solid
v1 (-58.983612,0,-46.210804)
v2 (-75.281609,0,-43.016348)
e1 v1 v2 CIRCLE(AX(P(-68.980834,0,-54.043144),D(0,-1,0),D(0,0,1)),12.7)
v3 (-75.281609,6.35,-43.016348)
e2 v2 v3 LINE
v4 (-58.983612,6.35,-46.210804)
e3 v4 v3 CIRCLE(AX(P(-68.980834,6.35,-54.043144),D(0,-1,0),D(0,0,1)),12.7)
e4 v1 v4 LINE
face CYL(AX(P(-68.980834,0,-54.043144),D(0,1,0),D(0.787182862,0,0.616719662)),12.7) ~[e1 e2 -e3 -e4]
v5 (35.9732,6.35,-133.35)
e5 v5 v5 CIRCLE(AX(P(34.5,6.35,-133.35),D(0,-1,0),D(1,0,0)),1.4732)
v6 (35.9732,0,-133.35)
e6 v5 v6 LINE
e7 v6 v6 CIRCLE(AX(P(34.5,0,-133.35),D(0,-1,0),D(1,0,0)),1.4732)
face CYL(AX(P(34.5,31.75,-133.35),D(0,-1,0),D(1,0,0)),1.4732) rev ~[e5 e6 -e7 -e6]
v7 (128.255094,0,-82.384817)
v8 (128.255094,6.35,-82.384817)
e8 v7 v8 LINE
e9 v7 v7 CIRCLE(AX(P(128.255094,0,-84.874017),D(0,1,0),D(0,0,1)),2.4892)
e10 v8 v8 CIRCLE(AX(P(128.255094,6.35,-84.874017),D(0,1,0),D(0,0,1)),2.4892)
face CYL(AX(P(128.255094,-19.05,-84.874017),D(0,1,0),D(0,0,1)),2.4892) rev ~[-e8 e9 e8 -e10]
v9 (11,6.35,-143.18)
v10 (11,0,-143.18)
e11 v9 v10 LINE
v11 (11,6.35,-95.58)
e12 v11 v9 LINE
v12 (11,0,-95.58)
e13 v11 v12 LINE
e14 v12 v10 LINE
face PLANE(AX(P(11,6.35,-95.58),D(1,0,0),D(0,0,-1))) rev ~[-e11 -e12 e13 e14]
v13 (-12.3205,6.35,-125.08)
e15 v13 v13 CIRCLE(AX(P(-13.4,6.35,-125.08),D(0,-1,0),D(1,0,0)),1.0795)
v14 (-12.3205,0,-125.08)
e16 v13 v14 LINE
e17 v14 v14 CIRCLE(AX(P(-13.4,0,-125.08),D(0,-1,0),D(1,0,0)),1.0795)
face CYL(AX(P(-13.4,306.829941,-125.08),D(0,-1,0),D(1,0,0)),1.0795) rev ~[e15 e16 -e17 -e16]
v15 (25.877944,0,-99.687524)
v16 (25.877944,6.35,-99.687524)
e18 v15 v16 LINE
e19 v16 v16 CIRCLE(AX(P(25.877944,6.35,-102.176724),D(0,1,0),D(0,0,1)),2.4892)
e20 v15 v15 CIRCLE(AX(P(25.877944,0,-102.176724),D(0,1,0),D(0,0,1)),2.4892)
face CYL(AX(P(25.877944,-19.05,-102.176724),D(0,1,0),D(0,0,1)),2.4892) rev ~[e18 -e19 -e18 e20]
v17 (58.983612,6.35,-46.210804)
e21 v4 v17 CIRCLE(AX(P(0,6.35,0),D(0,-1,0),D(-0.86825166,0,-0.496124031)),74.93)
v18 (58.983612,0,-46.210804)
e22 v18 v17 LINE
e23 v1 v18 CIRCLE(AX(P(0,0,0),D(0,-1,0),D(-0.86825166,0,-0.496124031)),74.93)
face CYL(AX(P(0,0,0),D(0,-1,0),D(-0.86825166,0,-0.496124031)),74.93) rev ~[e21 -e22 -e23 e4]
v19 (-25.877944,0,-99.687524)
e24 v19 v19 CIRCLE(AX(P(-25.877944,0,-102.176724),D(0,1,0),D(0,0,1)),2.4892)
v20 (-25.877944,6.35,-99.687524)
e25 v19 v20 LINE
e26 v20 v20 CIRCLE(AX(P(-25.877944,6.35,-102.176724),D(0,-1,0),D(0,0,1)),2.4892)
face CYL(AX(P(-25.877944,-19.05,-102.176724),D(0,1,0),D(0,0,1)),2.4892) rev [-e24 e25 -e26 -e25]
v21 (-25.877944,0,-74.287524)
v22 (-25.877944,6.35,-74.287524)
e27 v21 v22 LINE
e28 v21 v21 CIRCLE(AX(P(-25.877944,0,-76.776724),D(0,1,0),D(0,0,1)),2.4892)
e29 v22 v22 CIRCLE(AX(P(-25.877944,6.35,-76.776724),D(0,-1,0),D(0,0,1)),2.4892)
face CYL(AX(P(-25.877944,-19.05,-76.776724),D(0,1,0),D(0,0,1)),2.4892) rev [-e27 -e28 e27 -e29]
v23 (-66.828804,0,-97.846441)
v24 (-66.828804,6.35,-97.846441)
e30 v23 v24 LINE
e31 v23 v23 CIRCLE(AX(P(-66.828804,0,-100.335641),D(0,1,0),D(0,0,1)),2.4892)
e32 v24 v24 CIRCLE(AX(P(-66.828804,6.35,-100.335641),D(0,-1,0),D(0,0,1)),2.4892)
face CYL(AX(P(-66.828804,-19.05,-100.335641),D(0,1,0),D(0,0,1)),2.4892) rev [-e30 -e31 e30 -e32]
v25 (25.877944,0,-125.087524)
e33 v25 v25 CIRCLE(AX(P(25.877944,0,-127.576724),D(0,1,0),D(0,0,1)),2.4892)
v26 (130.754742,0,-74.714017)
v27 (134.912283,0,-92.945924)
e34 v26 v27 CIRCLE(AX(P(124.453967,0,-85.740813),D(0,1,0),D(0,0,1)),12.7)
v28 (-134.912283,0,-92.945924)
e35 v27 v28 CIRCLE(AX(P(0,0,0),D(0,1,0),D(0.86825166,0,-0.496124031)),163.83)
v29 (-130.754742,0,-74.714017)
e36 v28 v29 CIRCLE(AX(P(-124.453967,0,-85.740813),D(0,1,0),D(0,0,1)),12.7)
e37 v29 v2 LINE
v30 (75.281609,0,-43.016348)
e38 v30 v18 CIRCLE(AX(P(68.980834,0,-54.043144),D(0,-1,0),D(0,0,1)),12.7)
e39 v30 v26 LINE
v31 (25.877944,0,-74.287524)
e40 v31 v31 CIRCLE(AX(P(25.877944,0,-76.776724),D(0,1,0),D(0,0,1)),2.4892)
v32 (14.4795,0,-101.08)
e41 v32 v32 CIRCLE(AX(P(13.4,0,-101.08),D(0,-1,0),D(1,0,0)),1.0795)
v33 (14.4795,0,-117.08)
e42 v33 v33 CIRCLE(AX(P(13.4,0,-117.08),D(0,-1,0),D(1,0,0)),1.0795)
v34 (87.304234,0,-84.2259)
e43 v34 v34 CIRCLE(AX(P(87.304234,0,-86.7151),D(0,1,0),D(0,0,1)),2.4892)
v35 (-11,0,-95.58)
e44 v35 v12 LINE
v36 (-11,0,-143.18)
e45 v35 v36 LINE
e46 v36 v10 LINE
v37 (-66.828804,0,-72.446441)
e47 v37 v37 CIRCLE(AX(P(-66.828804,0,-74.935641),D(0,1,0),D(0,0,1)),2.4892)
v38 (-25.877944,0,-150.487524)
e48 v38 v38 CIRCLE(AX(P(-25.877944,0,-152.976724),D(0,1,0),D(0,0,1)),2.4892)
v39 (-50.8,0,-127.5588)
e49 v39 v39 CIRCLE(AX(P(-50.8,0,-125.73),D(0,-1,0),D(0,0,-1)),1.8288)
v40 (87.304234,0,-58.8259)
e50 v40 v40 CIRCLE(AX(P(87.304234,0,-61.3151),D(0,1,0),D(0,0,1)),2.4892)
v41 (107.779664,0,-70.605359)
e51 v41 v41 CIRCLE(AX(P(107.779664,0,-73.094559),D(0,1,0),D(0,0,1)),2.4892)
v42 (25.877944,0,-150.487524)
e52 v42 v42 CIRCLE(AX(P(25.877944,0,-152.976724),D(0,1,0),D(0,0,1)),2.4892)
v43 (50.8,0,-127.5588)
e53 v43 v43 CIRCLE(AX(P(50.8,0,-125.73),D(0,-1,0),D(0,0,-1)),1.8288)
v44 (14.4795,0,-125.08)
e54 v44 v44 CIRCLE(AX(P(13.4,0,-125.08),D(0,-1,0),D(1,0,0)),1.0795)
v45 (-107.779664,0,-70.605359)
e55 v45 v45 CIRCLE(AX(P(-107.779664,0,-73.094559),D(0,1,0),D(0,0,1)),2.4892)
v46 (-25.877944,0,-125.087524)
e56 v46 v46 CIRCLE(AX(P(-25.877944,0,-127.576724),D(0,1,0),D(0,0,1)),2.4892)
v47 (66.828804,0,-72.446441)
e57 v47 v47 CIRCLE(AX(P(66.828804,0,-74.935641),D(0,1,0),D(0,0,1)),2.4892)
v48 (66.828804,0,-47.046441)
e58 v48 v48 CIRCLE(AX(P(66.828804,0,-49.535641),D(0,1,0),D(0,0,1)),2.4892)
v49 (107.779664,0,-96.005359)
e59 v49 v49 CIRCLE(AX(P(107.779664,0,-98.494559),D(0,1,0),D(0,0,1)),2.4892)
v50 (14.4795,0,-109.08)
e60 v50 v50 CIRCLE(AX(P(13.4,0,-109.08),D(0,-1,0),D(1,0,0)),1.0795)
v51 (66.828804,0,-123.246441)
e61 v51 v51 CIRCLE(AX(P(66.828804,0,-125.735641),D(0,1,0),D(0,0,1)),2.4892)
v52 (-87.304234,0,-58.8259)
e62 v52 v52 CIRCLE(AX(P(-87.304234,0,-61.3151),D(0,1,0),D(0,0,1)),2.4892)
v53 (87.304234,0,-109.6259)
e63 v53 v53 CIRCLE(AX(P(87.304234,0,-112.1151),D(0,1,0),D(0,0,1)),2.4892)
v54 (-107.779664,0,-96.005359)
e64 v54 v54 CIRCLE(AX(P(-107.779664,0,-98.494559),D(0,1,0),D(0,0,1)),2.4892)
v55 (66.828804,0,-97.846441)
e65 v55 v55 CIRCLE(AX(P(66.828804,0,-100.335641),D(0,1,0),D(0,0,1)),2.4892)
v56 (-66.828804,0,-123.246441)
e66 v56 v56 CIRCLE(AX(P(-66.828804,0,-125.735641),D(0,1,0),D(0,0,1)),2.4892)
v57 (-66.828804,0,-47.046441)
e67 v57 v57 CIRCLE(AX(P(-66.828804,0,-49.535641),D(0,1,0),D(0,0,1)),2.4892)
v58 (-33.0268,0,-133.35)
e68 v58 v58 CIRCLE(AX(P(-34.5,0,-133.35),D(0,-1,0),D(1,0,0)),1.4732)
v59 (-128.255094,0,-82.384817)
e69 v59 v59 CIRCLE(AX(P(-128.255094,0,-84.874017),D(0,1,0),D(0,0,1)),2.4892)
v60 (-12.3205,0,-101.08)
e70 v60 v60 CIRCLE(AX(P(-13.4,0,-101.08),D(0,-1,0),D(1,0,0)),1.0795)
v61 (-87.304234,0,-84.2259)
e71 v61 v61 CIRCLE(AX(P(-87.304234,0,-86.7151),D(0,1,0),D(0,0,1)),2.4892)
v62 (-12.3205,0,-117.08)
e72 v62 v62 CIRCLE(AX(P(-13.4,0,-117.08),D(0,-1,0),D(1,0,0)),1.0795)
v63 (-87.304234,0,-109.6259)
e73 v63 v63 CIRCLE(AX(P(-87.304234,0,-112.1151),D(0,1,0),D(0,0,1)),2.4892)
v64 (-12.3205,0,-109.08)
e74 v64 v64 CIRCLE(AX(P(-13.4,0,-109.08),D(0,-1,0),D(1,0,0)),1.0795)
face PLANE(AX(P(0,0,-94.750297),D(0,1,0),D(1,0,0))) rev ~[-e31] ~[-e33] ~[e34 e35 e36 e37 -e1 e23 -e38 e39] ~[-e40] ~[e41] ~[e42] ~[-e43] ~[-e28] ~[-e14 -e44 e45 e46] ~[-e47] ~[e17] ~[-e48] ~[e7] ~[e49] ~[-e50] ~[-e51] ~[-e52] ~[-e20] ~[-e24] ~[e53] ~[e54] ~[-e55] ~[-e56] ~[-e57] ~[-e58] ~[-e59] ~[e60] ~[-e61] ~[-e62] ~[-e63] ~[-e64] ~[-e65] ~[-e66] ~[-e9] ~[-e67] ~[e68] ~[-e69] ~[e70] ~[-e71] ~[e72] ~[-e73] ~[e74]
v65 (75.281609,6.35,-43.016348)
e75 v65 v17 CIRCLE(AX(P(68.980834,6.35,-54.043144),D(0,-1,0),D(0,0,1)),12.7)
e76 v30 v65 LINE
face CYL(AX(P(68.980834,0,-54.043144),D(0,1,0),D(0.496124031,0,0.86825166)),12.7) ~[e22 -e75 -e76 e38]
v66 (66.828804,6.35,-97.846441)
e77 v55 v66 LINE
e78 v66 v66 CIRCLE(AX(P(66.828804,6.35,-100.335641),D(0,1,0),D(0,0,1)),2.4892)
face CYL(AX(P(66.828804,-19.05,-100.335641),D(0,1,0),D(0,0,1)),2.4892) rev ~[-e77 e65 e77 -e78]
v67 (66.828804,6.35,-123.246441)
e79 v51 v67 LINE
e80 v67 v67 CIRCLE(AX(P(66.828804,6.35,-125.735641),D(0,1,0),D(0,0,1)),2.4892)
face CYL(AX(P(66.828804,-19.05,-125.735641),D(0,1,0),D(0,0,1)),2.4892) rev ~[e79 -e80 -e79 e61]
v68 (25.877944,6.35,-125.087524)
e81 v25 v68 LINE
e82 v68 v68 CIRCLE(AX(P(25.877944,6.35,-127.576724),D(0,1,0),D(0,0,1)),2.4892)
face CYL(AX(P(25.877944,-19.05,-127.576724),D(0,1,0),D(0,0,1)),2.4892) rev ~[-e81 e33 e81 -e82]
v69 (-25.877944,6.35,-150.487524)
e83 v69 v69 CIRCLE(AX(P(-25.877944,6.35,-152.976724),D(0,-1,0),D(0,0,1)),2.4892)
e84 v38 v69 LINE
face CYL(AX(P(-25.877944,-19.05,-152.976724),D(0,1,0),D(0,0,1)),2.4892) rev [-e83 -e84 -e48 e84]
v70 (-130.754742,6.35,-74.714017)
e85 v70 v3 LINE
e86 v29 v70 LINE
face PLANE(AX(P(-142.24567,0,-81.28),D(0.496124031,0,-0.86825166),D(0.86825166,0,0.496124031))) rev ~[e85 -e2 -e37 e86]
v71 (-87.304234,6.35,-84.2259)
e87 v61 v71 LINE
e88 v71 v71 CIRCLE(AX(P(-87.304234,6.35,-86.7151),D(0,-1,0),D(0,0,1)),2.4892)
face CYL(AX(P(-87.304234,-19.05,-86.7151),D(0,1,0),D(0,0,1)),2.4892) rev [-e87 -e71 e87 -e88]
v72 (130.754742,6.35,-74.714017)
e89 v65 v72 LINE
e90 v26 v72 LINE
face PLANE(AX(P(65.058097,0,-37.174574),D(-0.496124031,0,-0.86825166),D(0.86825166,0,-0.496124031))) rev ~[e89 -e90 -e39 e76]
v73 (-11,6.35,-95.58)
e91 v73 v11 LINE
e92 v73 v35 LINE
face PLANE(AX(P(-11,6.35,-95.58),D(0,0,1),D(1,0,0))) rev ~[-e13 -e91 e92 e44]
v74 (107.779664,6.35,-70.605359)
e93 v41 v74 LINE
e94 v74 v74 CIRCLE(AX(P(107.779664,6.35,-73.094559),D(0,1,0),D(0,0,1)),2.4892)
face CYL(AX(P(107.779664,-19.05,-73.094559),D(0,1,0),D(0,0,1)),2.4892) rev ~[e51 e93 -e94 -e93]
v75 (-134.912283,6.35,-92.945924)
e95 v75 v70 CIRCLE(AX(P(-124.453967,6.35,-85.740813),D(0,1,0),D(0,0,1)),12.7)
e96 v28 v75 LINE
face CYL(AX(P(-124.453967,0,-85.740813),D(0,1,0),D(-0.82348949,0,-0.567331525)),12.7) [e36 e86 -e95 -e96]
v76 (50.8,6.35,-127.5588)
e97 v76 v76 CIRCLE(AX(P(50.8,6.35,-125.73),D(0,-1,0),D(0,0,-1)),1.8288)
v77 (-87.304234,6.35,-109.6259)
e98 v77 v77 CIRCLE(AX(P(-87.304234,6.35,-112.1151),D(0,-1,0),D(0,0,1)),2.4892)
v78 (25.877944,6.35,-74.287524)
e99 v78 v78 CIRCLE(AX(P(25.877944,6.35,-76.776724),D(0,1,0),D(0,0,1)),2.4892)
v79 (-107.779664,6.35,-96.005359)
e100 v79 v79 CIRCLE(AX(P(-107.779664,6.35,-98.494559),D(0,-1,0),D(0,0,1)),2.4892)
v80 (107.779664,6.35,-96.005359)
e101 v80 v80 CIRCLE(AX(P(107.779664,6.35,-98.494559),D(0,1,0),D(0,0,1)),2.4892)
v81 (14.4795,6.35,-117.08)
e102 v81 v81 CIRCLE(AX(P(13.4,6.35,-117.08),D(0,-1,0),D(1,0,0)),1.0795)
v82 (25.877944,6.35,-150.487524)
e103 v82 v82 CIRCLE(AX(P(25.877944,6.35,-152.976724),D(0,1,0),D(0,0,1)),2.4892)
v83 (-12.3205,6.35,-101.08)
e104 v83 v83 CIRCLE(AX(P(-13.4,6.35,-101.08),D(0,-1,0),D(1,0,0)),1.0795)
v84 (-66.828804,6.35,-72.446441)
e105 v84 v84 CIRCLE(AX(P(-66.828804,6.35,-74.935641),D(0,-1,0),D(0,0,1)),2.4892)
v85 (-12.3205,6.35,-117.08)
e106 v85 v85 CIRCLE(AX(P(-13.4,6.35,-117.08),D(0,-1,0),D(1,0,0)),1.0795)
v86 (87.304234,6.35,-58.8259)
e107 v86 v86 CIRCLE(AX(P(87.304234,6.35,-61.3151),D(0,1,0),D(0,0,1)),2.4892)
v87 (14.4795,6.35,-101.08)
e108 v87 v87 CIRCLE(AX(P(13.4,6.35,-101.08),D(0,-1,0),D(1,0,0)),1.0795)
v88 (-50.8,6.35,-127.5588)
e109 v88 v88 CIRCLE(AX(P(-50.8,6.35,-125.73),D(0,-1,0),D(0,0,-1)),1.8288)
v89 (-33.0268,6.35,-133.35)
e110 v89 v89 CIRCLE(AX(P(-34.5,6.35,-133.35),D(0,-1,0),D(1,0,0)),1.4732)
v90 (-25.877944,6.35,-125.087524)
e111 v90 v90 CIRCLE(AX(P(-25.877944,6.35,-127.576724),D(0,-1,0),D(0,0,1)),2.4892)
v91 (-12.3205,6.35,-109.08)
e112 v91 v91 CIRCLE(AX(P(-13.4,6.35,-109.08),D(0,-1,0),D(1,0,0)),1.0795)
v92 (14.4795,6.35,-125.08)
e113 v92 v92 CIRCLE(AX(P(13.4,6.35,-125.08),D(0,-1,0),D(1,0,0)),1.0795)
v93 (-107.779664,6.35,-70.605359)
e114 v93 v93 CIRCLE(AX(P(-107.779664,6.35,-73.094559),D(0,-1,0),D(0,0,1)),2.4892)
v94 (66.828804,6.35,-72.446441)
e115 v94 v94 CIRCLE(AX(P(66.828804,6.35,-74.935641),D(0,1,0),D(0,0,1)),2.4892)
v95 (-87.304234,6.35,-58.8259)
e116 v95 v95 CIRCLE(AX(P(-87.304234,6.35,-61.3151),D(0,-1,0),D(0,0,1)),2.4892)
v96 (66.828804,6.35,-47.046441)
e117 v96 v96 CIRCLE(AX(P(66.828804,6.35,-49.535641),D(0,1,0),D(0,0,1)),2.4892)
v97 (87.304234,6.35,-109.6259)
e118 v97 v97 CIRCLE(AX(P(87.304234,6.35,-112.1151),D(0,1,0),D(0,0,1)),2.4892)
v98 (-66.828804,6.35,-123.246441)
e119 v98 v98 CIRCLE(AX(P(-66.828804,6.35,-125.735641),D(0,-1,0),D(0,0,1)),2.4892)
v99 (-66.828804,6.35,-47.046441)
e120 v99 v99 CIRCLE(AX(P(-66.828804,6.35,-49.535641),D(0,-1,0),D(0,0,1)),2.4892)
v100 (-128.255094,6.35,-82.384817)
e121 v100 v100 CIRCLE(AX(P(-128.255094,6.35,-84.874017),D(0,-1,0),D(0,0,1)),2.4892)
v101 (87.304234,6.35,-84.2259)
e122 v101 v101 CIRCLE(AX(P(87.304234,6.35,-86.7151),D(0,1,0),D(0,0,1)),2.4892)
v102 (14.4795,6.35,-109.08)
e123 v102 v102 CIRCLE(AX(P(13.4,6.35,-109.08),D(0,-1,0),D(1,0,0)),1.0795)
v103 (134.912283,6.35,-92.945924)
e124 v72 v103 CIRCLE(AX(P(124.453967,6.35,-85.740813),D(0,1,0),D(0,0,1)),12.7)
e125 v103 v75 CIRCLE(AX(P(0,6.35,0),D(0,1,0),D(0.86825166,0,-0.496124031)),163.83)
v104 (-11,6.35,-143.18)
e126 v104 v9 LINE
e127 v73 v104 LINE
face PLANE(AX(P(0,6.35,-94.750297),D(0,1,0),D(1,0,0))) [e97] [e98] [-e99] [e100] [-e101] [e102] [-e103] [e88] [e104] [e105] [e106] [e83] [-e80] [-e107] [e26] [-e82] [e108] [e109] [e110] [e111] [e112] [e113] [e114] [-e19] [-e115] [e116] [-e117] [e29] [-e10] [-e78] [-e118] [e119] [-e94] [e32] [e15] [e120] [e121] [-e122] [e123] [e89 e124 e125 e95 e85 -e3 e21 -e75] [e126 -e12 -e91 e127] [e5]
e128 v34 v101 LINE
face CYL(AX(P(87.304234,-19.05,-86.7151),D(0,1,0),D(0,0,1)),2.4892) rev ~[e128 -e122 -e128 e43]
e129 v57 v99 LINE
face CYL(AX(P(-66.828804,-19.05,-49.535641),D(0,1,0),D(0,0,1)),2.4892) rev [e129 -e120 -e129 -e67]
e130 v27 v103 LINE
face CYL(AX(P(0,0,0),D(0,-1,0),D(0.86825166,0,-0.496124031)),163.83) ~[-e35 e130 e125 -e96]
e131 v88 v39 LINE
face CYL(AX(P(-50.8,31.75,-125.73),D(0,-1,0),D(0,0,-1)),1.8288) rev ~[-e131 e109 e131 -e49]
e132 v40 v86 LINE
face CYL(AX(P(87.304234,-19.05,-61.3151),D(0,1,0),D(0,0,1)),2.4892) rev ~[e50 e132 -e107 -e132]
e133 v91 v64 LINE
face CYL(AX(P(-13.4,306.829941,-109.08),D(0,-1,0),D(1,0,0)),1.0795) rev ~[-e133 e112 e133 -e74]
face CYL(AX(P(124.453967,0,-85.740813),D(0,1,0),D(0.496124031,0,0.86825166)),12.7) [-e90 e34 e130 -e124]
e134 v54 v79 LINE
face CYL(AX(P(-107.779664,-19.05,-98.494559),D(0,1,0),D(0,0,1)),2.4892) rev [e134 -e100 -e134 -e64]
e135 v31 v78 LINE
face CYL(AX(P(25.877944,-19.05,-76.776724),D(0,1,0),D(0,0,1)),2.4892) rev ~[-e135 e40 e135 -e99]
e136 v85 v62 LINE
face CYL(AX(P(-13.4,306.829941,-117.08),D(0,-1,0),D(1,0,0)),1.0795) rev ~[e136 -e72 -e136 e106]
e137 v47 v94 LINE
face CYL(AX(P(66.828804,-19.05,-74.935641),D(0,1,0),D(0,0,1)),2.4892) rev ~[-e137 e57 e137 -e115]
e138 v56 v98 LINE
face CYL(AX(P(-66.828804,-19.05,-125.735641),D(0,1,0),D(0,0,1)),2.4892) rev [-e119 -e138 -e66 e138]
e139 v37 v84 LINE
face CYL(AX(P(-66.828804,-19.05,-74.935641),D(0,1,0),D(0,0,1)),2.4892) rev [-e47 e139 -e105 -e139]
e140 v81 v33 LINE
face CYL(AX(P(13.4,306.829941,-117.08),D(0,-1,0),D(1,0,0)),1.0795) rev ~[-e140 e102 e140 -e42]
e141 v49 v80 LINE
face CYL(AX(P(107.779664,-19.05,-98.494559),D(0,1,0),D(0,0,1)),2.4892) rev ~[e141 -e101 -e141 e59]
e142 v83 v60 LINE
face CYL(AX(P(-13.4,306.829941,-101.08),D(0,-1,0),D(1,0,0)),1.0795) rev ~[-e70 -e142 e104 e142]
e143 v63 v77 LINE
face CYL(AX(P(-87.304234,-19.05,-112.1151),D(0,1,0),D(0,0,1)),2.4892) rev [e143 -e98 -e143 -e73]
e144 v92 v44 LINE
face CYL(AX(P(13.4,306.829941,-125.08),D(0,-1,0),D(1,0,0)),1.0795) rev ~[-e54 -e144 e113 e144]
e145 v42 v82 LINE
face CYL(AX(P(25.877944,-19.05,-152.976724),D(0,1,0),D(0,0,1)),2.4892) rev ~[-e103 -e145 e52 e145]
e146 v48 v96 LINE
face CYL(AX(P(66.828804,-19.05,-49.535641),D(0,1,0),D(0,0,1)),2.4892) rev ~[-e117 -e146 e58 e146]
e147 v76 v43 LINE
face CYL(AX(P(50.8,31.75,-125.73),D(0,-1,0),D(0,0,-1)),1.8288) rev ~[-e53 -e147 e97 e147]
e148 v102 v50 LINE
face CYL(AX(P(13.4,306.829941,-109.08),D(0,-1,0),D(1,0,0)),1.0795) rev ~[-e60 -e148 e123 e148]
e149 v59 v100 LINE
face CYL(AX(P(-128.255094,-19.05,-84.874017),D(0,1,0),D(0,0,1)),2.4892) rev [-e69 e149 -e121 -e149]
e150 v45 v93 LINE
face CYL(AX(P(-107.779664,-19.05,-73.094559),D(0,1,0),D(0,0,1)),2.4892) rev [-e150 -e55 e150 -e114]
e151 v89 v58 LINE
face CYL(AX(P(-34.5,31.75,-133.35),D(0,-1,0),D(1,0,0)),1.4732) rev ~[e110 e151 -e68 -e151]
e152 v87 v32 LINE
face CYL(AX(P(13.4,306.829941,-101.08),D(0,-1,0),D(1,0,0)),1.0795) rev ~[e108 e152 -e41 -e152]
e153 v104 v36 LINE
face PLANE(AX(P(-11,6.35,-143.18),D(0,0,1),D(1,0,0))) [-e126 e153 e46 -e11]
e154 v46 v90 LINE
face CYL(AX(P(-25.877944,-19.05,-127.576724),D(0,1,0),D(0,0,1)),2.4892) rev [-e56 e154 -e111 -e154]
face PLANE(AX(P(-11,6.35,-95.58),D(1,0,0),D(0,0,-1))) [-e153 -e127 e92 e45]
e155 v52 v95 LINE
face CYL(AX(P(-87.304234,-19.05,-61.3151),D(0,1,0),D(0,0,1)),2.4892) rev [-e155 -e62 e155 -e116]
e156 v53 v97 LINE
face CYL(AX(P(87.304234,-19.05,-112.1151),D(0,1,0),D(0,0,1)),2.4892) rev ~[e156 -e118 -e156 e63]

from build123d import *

# Parameters (mm, degrees)
BOSS_EXTRUDE1_DEPTH       = 6.35
F_6_CLEARANCE_HOLE1_D     = 3.6576
F_6_CLEARANCE_HOLE1_DEPTH = 25.4
F_6_CLEARANCE_HOLE1_TIP   = 1.0988539
FILLET1_R                 = 12.7
F_4_CLEARANCE_HOLE1_D     = 2.9464
F_4_CLEARANCE_HOLE1_DEPTH = 25.4
F_4_CLEARANCE_HOLE1_TIP   = 0.885187864
LPATTERN4_COUNT           = 6
LPATTERN4_PITCH           = 25.4
LPATTERN4_COUNT_DIR2      = 7
LPATTERN4_PITCH_DIR2      = 23.622
SKETCH8_W                 = 22
SKETCH8_H                 = 47.6
CUT_EXTRUDE1_DEPTH        = 214.756408018
F_4_CLEARANCE_HOLE3_D     = 2.159


with BuildPart() as part:
    # Sketch1 → Boss-Extrude1 (new body)
    with BuildSketch(Plane(origin=(0, 0, 0), x_dir=(1, 0, 0), z_dir=(0, 1, 0))):
        with BuildLine():
            Line((65.058096917, 37.174573643), (142.24566953, 81.28))
            ThreePointArc((142.24566953, 81.28), (0, 163.83), (-142.24566953, 81.28))
            Line((-142.24566953, 81.28), (-65.058096917, 37.174573643))
            ThreePointArc((-65.058096917, 37.174573643), (0, 74.93), (65.058096917, 37.174573643))
        make_face()
    extrude(amount=BOSS_EXTRUDE1_DEPTH)

    # #6 Clearance Hole1
    with Locations(Plane(origin=(-50.8, 6.35, -125.73), x_dir=(0, 0, 1), z_dir=(0, 1, 0))):
        with Locations((0, 0), (0, 101.6)):
            Hole(F_6_CLEARANCE_HOLE1_D / 2, depth=F_6_CLEARANCE_HOLE1_DEPTH)
            with Locations((0, 0, -(F_6_CLEARANCE_HOLE1_DEPTH + F_6_CLEARANCE_HOLE1_TIP / 2))):  # 118° drill point
                Cone(0, F_6_CLEARANCE_HOLE1_D / 2, F_6_CLEARANCE_HOLE1_TIP, mode=Mode.SUBTRACT)

    # Fillet1
    fillet1_edges = [part.edges().sort_by_distance(p)[0] for p in [
        (65.058096917, 3.175, -37.174573643),
        (-142.24566953, 3.175, -81.28),
        (-65.058096917, 3.175, -37.174573643),
        (142.24566953, 3.175, -81.28),
    ]]
    fillet(fillet1_edges, radius=FILLET1_R)

    # #4 Clearance Hole1
    with Locations(Plane(origin=(0, 6.35, 0), x_dir=(-1, 0, 0), z_dir=(0, 1, 0))):
        with Locations((-34.5, -133.35), (34.5, -133.35)):
            Hole(F_4_CLEARANCE_HOLE1_D / 2, depth=F_4_CLEARANCE_HOLE1_DEPTH)
            with Locations((0, 0, -(F_4_CLEARANCE_HOLE1_DEPTH + F_4_CLEARANCE_HOLE1_TIP / 2))):  # 118° drill point
                Cone(0, F_4_CLEARANCE_HOLE1_D / 2, F_4_CLEARANCE_HOLE1_TIP, mode=Mode.SUBTRACT)

    # Sketch5 → #10 Clearance Hole1 (revolve, cut)
    with BuildSketch(Plane(origin=(-128.255094273, 6.35, -84.874017323), x_dir=(0, 0, 1), z_dir=(1, 0, 0))):
        Polygon((0, 0), (0, 26.895662253), (2.4892, 25.4), (2.4892, 0), align=None)
    f_10_clearance_hole1 = revolve(axis=Axis((-128.255094273, 12.7, -84.874017323), (0, -1, 0)), mode=Mode.SUBTRACT)

    # LPattern4: 10 Clearance Hole1 6 × 7, 28 skipped
    with Locations(*[Vector(0, 0, -1) * (i * LPATTERN4_PITCH) + Vector(0.8667949394357127, 0, 0.49866475007628047) * (j * LPATTERN4_PITCH_DIR2) for i in range(LPATTERN4_COUNT) for j in range(LPATTERN4_COUNT_DIR2) if (i, j) not in ((0, 0), (0, 4), (0, 5), (0, 6), (1, 0), (1, 4), (1, 5), (1, 6), (2, 0), (2, 1), (2, 4), (2, 6), (3, 0), (3, 1), (3, 2), (3, 4), (3, 6), (4, 0), (4, 1), (4, 2), (4, 3), (4, 4), (4, 6), (5, 0), (5, 1), (5, 2), (5, 3), (5, 4), (5, 6))]):
        add(f_10_clearance_hole1, mode=Mode.SUBTRACT)

    # Mirror4 copy 1 sketch → Mirror4 copy 1 (revolve, cut)
    with BuildSketch(Plane(origin=(107.779664214, 6.35, -73.094558596), x_dir=(0, 0, 1), z_dir=(-1, 0, 0))):
        Polygon((0, 0), (0, -26.895662253), (2.4892, -25.4), (2.4892, 0), align=None)
    revolve(axis=Axis((107.779664214, 12.7, -73.094558596), (0, 1, 0)), mode=Mode.SUBTRACT)

    # Mirror4 copy 2 sketch → Mirror4 copy 2 (revolve, cut)
    with BuildSketch(Plane(origin=(87.304234155, 6.35, -61.31509987), x_dir=(0, 0, 1), z_dir=(-1, 0, 0))):
        Polygon((0, 0), (0, -26.895662253), (2.4892, -25.4), (2.4892, 0), align=None)
    revolve(axis=Axis((87.304234155, 12.7, -61.31509987), (0, 1, 0)), mode=Mode.SUBTRACT)

    # Mirror4 copy 3 sketch → Mirror4 copy 3 (revolve, cut)
    with BuildSketch(Plane(origin=(66.828804095, 6.35, -49.535641144), x_dir=(0, 0, 1), z_dir=(-1, 0, 0))):
        Polygon((0, 0), (0, -26.895662253), (2.4892, -25.4), (2.4892, 0), align=None)
    revolve(axis=Axis((66.828804095, 12.7, -49.535641144), (0, 1, 0)), mode=Mode.SUBTRACT)

    # Mirror4 copy 4 sketch → Mirror4 copy 4 (revolve, cut)
    with BuildSketch(Plane(origin=(107.779664214, 6.35, -98.494558596), x_dir=(0, 0, 1), z_dir=(-1, 0, 0))):
        Polygon((0, 0), (0, -26.895662253), (2.4892, -25.4), (2.4892, 0), align=None)
    revolve(axis=Axis((107.779664214, 12.7, -98.494558596), (0, 1, 0)), mode=Mode.SUBTRACT)

    # Mirror4 copy 5 sketch → Mirror4 copy 5 (revolve, cut)
    with BuildSketch(Plane(origin=(87.304234155, 6.35, -86.71509987), x_dir=(0, 0, 1), z_dir=(-1, 0, 0))):
        Polygon((0, 0), (0, -26.895662253), (2.4892, -25.4), (2.4892, 0), align=None)
    revolve(axis=Axis((87.304234155, 12.7, -86.71509987), (0, 1, 0)), mode=Mode.SUBTRACT)

    # Mirror4 copy 6 sketch → Mirror4 copy 6 (revolve, cut)
    with BuildSketch(Plane(origin=(66.828804095, 6.35, -74.935641144), x_dir=(0, 0, 1), z_dir=(-1, 0, 0))):
        Polygon((0, 0), (0, -26.895662253), (2.4892, -25.4), (2.4892, 0), align=None)
    revolve(axis=Axis((66.828804095, 12.7, -74.935641144), (0, 1, 0)), mode=Mode.SUBTRACT)

    # Mirror4 copy 7 sketch → Mirror4 copy 7 (revolve, cut)
    with BuildSketch(Plane(origin=(87.304234155, 6.35, -112.11509987), x_dir=(0, 0, 1), z_dir=(-1, 0, 0))):
        Polygon((0, 0), (0, -26.895662253), (2.4892, -25.4), (2.4892, 0), align=None)
    revolve(axis=Axis((87.304234155, 12.7, -112.11509987), (0, 1, 0)), mode=Mode.SUBTRACT)

    # Mirror4 copy 8 sketch → Mirror4 copy 8 (revolve, cut)
    with BuildSketch(Plane(origin=(66.828804095, 6.35, -100.335641144), x_dir=(0, 0, 1), z_dir=(-1, 0, 0))):
        Polygon((0, 0), (0, -26.895662253), (2.4892, -25.4), (2.4892, 0), align=None)
    revolve(axis=Axis((66.828804095, 12.7, -100.335641144), (0, 1, 0)), mode=Mode.SUBTRACT)

    # Mirror4 copy 9 sketch → Mirror4 copy 9 (revolve, cut)
    with BuildSketch(Plane(origin=(25.877943977, 6.35, -76.776723691), x_dir=(0, 0, 1), z_dir=(-1, 0, 0))):
        Polygon((0, 0), (0, -26.895662253), (2.4892, -25.4), (2.4892, 0), align=None)
    revolve(axis=Axis((25.877943977, 12.7, -76.776723691), (0, 1, 0)), mode=Mode.SUBTRACT)

    # Mirror4 copy 10 sketch → Mirror4 copy 10 (revolve, cut)
    with BuildSketch(Plane(origin=(66.828804095, 6.35, -125.735641144), x_dir=(0, 0, 1), z_dir=(-1, 0, 0))):
        Polygon((0, 0), (0, -26.895662253), (2.4892, -25.4), (2.4892, 0), align=None)
    revolve(axis=Axis((66.828804095, 12.7, -125.735641144), (0, 1, 0)), mode=Mode.SUBTRACT)

    # Mirror4 copy 11 sketch → Mirror4 copy 11 (revolve, cut)
    with BuildSketch(Plane(origin=(25.877943977, 6.35, -102.176723691), x_dir=(0, 0, 1), z_dir=(-1, 0, 0))):
        Polygon((0, 0), (0, -26.895662253), (2.4892, -25.4), (2.4892, 0), align=None)
    revolve(axis=Axis((25.877943977, 12.7, -102.176723691), (0, 1, 0)), mode=Mode.SUBTRACT)

    # Mirror4 copy 12 sketch → Mirror4 copy 12 (revolve, cut)
    with BuildSketch(Plane(origin=(25.877943977, 6.35, -127.576723691), x_dir=(0, 0, 1), z_dir=(-1, 0, 0))):
        Polygon((0, 0), (0, -26.895662253), (2.4892, -25.4), (2.4892, 0), align=None)
    revolve(axis=Axis((25.877943977, 12.7, -127.576723691), (0, 1, 0)), mode=Mode.SUBTRACT)

    # Mirror4 copy 13 sketch → Mirror4 copy 13 (revolve, cut)
    with BuildSketch(Plane(origin=(25.877943977, 6.35, -152.976723691), x_dir=(0, 0, 1), z_dir=(-1, 0, 0))):
        Polygon((0, 0), (0, -26.895662253), (2.4892, -25.4), (2.4892, 0), align=None)
    revolve(axis=Axis((25.877943977, 12.7, -152.976723691), (0, 1, 0)), mode=Mode.SUBTRACT)

    # Mirror4 copy 14 sketch → Mirror4 copy 14 (revolve, cut)
    with BuildSketch(Plane(origin=(128.255094273, 6.35, -84.874017323), x_dir=(0, 0, 1), z_dir=(-1, 0, 0))):
        Polygon((0, 0), (0, -26.895662253), (2.4892, -25.4), (2.4892, 0), align=None)
    revolve(axis=Axis((128.255094273, 12.7, -84.874017323), (0, 1, 0)), mode=Mode.SUBTRACT)

    # Sketch8 → Cut-Extrude1 (cut, through all)
    with BuildSketch(Plane(origin=(0, 6.35, 0), x_dir=(1, 0, 0), z_dir=(0, 1, 0))):
        with Locations((0, 119.38)):
            Rectangle(SKETCH8_W, SKETCH8_H)
    extrude(amount=-CUT_EXTRUDE1_DEPTH, mode=Mode.SUBTRACT)

    # #4 Clearance Hole3 (through all)
    with Locations(Plane(origin=(0, 6.35, 0), x_dir=(-1, 0, 0), z_dir=(0, 1, 0))):
        with Locations((13.4, -125.08), (13.4, -117.08), (13.4, -109.08), (13.4, -101.08), (-13.4, -101.08), (-13.4, -109.08), (-13.4, -117.08), (-13.4, -125.08)):
            Hole(F_4_CLEARANCE_HOLE3_D / 2)


solid = part.part
